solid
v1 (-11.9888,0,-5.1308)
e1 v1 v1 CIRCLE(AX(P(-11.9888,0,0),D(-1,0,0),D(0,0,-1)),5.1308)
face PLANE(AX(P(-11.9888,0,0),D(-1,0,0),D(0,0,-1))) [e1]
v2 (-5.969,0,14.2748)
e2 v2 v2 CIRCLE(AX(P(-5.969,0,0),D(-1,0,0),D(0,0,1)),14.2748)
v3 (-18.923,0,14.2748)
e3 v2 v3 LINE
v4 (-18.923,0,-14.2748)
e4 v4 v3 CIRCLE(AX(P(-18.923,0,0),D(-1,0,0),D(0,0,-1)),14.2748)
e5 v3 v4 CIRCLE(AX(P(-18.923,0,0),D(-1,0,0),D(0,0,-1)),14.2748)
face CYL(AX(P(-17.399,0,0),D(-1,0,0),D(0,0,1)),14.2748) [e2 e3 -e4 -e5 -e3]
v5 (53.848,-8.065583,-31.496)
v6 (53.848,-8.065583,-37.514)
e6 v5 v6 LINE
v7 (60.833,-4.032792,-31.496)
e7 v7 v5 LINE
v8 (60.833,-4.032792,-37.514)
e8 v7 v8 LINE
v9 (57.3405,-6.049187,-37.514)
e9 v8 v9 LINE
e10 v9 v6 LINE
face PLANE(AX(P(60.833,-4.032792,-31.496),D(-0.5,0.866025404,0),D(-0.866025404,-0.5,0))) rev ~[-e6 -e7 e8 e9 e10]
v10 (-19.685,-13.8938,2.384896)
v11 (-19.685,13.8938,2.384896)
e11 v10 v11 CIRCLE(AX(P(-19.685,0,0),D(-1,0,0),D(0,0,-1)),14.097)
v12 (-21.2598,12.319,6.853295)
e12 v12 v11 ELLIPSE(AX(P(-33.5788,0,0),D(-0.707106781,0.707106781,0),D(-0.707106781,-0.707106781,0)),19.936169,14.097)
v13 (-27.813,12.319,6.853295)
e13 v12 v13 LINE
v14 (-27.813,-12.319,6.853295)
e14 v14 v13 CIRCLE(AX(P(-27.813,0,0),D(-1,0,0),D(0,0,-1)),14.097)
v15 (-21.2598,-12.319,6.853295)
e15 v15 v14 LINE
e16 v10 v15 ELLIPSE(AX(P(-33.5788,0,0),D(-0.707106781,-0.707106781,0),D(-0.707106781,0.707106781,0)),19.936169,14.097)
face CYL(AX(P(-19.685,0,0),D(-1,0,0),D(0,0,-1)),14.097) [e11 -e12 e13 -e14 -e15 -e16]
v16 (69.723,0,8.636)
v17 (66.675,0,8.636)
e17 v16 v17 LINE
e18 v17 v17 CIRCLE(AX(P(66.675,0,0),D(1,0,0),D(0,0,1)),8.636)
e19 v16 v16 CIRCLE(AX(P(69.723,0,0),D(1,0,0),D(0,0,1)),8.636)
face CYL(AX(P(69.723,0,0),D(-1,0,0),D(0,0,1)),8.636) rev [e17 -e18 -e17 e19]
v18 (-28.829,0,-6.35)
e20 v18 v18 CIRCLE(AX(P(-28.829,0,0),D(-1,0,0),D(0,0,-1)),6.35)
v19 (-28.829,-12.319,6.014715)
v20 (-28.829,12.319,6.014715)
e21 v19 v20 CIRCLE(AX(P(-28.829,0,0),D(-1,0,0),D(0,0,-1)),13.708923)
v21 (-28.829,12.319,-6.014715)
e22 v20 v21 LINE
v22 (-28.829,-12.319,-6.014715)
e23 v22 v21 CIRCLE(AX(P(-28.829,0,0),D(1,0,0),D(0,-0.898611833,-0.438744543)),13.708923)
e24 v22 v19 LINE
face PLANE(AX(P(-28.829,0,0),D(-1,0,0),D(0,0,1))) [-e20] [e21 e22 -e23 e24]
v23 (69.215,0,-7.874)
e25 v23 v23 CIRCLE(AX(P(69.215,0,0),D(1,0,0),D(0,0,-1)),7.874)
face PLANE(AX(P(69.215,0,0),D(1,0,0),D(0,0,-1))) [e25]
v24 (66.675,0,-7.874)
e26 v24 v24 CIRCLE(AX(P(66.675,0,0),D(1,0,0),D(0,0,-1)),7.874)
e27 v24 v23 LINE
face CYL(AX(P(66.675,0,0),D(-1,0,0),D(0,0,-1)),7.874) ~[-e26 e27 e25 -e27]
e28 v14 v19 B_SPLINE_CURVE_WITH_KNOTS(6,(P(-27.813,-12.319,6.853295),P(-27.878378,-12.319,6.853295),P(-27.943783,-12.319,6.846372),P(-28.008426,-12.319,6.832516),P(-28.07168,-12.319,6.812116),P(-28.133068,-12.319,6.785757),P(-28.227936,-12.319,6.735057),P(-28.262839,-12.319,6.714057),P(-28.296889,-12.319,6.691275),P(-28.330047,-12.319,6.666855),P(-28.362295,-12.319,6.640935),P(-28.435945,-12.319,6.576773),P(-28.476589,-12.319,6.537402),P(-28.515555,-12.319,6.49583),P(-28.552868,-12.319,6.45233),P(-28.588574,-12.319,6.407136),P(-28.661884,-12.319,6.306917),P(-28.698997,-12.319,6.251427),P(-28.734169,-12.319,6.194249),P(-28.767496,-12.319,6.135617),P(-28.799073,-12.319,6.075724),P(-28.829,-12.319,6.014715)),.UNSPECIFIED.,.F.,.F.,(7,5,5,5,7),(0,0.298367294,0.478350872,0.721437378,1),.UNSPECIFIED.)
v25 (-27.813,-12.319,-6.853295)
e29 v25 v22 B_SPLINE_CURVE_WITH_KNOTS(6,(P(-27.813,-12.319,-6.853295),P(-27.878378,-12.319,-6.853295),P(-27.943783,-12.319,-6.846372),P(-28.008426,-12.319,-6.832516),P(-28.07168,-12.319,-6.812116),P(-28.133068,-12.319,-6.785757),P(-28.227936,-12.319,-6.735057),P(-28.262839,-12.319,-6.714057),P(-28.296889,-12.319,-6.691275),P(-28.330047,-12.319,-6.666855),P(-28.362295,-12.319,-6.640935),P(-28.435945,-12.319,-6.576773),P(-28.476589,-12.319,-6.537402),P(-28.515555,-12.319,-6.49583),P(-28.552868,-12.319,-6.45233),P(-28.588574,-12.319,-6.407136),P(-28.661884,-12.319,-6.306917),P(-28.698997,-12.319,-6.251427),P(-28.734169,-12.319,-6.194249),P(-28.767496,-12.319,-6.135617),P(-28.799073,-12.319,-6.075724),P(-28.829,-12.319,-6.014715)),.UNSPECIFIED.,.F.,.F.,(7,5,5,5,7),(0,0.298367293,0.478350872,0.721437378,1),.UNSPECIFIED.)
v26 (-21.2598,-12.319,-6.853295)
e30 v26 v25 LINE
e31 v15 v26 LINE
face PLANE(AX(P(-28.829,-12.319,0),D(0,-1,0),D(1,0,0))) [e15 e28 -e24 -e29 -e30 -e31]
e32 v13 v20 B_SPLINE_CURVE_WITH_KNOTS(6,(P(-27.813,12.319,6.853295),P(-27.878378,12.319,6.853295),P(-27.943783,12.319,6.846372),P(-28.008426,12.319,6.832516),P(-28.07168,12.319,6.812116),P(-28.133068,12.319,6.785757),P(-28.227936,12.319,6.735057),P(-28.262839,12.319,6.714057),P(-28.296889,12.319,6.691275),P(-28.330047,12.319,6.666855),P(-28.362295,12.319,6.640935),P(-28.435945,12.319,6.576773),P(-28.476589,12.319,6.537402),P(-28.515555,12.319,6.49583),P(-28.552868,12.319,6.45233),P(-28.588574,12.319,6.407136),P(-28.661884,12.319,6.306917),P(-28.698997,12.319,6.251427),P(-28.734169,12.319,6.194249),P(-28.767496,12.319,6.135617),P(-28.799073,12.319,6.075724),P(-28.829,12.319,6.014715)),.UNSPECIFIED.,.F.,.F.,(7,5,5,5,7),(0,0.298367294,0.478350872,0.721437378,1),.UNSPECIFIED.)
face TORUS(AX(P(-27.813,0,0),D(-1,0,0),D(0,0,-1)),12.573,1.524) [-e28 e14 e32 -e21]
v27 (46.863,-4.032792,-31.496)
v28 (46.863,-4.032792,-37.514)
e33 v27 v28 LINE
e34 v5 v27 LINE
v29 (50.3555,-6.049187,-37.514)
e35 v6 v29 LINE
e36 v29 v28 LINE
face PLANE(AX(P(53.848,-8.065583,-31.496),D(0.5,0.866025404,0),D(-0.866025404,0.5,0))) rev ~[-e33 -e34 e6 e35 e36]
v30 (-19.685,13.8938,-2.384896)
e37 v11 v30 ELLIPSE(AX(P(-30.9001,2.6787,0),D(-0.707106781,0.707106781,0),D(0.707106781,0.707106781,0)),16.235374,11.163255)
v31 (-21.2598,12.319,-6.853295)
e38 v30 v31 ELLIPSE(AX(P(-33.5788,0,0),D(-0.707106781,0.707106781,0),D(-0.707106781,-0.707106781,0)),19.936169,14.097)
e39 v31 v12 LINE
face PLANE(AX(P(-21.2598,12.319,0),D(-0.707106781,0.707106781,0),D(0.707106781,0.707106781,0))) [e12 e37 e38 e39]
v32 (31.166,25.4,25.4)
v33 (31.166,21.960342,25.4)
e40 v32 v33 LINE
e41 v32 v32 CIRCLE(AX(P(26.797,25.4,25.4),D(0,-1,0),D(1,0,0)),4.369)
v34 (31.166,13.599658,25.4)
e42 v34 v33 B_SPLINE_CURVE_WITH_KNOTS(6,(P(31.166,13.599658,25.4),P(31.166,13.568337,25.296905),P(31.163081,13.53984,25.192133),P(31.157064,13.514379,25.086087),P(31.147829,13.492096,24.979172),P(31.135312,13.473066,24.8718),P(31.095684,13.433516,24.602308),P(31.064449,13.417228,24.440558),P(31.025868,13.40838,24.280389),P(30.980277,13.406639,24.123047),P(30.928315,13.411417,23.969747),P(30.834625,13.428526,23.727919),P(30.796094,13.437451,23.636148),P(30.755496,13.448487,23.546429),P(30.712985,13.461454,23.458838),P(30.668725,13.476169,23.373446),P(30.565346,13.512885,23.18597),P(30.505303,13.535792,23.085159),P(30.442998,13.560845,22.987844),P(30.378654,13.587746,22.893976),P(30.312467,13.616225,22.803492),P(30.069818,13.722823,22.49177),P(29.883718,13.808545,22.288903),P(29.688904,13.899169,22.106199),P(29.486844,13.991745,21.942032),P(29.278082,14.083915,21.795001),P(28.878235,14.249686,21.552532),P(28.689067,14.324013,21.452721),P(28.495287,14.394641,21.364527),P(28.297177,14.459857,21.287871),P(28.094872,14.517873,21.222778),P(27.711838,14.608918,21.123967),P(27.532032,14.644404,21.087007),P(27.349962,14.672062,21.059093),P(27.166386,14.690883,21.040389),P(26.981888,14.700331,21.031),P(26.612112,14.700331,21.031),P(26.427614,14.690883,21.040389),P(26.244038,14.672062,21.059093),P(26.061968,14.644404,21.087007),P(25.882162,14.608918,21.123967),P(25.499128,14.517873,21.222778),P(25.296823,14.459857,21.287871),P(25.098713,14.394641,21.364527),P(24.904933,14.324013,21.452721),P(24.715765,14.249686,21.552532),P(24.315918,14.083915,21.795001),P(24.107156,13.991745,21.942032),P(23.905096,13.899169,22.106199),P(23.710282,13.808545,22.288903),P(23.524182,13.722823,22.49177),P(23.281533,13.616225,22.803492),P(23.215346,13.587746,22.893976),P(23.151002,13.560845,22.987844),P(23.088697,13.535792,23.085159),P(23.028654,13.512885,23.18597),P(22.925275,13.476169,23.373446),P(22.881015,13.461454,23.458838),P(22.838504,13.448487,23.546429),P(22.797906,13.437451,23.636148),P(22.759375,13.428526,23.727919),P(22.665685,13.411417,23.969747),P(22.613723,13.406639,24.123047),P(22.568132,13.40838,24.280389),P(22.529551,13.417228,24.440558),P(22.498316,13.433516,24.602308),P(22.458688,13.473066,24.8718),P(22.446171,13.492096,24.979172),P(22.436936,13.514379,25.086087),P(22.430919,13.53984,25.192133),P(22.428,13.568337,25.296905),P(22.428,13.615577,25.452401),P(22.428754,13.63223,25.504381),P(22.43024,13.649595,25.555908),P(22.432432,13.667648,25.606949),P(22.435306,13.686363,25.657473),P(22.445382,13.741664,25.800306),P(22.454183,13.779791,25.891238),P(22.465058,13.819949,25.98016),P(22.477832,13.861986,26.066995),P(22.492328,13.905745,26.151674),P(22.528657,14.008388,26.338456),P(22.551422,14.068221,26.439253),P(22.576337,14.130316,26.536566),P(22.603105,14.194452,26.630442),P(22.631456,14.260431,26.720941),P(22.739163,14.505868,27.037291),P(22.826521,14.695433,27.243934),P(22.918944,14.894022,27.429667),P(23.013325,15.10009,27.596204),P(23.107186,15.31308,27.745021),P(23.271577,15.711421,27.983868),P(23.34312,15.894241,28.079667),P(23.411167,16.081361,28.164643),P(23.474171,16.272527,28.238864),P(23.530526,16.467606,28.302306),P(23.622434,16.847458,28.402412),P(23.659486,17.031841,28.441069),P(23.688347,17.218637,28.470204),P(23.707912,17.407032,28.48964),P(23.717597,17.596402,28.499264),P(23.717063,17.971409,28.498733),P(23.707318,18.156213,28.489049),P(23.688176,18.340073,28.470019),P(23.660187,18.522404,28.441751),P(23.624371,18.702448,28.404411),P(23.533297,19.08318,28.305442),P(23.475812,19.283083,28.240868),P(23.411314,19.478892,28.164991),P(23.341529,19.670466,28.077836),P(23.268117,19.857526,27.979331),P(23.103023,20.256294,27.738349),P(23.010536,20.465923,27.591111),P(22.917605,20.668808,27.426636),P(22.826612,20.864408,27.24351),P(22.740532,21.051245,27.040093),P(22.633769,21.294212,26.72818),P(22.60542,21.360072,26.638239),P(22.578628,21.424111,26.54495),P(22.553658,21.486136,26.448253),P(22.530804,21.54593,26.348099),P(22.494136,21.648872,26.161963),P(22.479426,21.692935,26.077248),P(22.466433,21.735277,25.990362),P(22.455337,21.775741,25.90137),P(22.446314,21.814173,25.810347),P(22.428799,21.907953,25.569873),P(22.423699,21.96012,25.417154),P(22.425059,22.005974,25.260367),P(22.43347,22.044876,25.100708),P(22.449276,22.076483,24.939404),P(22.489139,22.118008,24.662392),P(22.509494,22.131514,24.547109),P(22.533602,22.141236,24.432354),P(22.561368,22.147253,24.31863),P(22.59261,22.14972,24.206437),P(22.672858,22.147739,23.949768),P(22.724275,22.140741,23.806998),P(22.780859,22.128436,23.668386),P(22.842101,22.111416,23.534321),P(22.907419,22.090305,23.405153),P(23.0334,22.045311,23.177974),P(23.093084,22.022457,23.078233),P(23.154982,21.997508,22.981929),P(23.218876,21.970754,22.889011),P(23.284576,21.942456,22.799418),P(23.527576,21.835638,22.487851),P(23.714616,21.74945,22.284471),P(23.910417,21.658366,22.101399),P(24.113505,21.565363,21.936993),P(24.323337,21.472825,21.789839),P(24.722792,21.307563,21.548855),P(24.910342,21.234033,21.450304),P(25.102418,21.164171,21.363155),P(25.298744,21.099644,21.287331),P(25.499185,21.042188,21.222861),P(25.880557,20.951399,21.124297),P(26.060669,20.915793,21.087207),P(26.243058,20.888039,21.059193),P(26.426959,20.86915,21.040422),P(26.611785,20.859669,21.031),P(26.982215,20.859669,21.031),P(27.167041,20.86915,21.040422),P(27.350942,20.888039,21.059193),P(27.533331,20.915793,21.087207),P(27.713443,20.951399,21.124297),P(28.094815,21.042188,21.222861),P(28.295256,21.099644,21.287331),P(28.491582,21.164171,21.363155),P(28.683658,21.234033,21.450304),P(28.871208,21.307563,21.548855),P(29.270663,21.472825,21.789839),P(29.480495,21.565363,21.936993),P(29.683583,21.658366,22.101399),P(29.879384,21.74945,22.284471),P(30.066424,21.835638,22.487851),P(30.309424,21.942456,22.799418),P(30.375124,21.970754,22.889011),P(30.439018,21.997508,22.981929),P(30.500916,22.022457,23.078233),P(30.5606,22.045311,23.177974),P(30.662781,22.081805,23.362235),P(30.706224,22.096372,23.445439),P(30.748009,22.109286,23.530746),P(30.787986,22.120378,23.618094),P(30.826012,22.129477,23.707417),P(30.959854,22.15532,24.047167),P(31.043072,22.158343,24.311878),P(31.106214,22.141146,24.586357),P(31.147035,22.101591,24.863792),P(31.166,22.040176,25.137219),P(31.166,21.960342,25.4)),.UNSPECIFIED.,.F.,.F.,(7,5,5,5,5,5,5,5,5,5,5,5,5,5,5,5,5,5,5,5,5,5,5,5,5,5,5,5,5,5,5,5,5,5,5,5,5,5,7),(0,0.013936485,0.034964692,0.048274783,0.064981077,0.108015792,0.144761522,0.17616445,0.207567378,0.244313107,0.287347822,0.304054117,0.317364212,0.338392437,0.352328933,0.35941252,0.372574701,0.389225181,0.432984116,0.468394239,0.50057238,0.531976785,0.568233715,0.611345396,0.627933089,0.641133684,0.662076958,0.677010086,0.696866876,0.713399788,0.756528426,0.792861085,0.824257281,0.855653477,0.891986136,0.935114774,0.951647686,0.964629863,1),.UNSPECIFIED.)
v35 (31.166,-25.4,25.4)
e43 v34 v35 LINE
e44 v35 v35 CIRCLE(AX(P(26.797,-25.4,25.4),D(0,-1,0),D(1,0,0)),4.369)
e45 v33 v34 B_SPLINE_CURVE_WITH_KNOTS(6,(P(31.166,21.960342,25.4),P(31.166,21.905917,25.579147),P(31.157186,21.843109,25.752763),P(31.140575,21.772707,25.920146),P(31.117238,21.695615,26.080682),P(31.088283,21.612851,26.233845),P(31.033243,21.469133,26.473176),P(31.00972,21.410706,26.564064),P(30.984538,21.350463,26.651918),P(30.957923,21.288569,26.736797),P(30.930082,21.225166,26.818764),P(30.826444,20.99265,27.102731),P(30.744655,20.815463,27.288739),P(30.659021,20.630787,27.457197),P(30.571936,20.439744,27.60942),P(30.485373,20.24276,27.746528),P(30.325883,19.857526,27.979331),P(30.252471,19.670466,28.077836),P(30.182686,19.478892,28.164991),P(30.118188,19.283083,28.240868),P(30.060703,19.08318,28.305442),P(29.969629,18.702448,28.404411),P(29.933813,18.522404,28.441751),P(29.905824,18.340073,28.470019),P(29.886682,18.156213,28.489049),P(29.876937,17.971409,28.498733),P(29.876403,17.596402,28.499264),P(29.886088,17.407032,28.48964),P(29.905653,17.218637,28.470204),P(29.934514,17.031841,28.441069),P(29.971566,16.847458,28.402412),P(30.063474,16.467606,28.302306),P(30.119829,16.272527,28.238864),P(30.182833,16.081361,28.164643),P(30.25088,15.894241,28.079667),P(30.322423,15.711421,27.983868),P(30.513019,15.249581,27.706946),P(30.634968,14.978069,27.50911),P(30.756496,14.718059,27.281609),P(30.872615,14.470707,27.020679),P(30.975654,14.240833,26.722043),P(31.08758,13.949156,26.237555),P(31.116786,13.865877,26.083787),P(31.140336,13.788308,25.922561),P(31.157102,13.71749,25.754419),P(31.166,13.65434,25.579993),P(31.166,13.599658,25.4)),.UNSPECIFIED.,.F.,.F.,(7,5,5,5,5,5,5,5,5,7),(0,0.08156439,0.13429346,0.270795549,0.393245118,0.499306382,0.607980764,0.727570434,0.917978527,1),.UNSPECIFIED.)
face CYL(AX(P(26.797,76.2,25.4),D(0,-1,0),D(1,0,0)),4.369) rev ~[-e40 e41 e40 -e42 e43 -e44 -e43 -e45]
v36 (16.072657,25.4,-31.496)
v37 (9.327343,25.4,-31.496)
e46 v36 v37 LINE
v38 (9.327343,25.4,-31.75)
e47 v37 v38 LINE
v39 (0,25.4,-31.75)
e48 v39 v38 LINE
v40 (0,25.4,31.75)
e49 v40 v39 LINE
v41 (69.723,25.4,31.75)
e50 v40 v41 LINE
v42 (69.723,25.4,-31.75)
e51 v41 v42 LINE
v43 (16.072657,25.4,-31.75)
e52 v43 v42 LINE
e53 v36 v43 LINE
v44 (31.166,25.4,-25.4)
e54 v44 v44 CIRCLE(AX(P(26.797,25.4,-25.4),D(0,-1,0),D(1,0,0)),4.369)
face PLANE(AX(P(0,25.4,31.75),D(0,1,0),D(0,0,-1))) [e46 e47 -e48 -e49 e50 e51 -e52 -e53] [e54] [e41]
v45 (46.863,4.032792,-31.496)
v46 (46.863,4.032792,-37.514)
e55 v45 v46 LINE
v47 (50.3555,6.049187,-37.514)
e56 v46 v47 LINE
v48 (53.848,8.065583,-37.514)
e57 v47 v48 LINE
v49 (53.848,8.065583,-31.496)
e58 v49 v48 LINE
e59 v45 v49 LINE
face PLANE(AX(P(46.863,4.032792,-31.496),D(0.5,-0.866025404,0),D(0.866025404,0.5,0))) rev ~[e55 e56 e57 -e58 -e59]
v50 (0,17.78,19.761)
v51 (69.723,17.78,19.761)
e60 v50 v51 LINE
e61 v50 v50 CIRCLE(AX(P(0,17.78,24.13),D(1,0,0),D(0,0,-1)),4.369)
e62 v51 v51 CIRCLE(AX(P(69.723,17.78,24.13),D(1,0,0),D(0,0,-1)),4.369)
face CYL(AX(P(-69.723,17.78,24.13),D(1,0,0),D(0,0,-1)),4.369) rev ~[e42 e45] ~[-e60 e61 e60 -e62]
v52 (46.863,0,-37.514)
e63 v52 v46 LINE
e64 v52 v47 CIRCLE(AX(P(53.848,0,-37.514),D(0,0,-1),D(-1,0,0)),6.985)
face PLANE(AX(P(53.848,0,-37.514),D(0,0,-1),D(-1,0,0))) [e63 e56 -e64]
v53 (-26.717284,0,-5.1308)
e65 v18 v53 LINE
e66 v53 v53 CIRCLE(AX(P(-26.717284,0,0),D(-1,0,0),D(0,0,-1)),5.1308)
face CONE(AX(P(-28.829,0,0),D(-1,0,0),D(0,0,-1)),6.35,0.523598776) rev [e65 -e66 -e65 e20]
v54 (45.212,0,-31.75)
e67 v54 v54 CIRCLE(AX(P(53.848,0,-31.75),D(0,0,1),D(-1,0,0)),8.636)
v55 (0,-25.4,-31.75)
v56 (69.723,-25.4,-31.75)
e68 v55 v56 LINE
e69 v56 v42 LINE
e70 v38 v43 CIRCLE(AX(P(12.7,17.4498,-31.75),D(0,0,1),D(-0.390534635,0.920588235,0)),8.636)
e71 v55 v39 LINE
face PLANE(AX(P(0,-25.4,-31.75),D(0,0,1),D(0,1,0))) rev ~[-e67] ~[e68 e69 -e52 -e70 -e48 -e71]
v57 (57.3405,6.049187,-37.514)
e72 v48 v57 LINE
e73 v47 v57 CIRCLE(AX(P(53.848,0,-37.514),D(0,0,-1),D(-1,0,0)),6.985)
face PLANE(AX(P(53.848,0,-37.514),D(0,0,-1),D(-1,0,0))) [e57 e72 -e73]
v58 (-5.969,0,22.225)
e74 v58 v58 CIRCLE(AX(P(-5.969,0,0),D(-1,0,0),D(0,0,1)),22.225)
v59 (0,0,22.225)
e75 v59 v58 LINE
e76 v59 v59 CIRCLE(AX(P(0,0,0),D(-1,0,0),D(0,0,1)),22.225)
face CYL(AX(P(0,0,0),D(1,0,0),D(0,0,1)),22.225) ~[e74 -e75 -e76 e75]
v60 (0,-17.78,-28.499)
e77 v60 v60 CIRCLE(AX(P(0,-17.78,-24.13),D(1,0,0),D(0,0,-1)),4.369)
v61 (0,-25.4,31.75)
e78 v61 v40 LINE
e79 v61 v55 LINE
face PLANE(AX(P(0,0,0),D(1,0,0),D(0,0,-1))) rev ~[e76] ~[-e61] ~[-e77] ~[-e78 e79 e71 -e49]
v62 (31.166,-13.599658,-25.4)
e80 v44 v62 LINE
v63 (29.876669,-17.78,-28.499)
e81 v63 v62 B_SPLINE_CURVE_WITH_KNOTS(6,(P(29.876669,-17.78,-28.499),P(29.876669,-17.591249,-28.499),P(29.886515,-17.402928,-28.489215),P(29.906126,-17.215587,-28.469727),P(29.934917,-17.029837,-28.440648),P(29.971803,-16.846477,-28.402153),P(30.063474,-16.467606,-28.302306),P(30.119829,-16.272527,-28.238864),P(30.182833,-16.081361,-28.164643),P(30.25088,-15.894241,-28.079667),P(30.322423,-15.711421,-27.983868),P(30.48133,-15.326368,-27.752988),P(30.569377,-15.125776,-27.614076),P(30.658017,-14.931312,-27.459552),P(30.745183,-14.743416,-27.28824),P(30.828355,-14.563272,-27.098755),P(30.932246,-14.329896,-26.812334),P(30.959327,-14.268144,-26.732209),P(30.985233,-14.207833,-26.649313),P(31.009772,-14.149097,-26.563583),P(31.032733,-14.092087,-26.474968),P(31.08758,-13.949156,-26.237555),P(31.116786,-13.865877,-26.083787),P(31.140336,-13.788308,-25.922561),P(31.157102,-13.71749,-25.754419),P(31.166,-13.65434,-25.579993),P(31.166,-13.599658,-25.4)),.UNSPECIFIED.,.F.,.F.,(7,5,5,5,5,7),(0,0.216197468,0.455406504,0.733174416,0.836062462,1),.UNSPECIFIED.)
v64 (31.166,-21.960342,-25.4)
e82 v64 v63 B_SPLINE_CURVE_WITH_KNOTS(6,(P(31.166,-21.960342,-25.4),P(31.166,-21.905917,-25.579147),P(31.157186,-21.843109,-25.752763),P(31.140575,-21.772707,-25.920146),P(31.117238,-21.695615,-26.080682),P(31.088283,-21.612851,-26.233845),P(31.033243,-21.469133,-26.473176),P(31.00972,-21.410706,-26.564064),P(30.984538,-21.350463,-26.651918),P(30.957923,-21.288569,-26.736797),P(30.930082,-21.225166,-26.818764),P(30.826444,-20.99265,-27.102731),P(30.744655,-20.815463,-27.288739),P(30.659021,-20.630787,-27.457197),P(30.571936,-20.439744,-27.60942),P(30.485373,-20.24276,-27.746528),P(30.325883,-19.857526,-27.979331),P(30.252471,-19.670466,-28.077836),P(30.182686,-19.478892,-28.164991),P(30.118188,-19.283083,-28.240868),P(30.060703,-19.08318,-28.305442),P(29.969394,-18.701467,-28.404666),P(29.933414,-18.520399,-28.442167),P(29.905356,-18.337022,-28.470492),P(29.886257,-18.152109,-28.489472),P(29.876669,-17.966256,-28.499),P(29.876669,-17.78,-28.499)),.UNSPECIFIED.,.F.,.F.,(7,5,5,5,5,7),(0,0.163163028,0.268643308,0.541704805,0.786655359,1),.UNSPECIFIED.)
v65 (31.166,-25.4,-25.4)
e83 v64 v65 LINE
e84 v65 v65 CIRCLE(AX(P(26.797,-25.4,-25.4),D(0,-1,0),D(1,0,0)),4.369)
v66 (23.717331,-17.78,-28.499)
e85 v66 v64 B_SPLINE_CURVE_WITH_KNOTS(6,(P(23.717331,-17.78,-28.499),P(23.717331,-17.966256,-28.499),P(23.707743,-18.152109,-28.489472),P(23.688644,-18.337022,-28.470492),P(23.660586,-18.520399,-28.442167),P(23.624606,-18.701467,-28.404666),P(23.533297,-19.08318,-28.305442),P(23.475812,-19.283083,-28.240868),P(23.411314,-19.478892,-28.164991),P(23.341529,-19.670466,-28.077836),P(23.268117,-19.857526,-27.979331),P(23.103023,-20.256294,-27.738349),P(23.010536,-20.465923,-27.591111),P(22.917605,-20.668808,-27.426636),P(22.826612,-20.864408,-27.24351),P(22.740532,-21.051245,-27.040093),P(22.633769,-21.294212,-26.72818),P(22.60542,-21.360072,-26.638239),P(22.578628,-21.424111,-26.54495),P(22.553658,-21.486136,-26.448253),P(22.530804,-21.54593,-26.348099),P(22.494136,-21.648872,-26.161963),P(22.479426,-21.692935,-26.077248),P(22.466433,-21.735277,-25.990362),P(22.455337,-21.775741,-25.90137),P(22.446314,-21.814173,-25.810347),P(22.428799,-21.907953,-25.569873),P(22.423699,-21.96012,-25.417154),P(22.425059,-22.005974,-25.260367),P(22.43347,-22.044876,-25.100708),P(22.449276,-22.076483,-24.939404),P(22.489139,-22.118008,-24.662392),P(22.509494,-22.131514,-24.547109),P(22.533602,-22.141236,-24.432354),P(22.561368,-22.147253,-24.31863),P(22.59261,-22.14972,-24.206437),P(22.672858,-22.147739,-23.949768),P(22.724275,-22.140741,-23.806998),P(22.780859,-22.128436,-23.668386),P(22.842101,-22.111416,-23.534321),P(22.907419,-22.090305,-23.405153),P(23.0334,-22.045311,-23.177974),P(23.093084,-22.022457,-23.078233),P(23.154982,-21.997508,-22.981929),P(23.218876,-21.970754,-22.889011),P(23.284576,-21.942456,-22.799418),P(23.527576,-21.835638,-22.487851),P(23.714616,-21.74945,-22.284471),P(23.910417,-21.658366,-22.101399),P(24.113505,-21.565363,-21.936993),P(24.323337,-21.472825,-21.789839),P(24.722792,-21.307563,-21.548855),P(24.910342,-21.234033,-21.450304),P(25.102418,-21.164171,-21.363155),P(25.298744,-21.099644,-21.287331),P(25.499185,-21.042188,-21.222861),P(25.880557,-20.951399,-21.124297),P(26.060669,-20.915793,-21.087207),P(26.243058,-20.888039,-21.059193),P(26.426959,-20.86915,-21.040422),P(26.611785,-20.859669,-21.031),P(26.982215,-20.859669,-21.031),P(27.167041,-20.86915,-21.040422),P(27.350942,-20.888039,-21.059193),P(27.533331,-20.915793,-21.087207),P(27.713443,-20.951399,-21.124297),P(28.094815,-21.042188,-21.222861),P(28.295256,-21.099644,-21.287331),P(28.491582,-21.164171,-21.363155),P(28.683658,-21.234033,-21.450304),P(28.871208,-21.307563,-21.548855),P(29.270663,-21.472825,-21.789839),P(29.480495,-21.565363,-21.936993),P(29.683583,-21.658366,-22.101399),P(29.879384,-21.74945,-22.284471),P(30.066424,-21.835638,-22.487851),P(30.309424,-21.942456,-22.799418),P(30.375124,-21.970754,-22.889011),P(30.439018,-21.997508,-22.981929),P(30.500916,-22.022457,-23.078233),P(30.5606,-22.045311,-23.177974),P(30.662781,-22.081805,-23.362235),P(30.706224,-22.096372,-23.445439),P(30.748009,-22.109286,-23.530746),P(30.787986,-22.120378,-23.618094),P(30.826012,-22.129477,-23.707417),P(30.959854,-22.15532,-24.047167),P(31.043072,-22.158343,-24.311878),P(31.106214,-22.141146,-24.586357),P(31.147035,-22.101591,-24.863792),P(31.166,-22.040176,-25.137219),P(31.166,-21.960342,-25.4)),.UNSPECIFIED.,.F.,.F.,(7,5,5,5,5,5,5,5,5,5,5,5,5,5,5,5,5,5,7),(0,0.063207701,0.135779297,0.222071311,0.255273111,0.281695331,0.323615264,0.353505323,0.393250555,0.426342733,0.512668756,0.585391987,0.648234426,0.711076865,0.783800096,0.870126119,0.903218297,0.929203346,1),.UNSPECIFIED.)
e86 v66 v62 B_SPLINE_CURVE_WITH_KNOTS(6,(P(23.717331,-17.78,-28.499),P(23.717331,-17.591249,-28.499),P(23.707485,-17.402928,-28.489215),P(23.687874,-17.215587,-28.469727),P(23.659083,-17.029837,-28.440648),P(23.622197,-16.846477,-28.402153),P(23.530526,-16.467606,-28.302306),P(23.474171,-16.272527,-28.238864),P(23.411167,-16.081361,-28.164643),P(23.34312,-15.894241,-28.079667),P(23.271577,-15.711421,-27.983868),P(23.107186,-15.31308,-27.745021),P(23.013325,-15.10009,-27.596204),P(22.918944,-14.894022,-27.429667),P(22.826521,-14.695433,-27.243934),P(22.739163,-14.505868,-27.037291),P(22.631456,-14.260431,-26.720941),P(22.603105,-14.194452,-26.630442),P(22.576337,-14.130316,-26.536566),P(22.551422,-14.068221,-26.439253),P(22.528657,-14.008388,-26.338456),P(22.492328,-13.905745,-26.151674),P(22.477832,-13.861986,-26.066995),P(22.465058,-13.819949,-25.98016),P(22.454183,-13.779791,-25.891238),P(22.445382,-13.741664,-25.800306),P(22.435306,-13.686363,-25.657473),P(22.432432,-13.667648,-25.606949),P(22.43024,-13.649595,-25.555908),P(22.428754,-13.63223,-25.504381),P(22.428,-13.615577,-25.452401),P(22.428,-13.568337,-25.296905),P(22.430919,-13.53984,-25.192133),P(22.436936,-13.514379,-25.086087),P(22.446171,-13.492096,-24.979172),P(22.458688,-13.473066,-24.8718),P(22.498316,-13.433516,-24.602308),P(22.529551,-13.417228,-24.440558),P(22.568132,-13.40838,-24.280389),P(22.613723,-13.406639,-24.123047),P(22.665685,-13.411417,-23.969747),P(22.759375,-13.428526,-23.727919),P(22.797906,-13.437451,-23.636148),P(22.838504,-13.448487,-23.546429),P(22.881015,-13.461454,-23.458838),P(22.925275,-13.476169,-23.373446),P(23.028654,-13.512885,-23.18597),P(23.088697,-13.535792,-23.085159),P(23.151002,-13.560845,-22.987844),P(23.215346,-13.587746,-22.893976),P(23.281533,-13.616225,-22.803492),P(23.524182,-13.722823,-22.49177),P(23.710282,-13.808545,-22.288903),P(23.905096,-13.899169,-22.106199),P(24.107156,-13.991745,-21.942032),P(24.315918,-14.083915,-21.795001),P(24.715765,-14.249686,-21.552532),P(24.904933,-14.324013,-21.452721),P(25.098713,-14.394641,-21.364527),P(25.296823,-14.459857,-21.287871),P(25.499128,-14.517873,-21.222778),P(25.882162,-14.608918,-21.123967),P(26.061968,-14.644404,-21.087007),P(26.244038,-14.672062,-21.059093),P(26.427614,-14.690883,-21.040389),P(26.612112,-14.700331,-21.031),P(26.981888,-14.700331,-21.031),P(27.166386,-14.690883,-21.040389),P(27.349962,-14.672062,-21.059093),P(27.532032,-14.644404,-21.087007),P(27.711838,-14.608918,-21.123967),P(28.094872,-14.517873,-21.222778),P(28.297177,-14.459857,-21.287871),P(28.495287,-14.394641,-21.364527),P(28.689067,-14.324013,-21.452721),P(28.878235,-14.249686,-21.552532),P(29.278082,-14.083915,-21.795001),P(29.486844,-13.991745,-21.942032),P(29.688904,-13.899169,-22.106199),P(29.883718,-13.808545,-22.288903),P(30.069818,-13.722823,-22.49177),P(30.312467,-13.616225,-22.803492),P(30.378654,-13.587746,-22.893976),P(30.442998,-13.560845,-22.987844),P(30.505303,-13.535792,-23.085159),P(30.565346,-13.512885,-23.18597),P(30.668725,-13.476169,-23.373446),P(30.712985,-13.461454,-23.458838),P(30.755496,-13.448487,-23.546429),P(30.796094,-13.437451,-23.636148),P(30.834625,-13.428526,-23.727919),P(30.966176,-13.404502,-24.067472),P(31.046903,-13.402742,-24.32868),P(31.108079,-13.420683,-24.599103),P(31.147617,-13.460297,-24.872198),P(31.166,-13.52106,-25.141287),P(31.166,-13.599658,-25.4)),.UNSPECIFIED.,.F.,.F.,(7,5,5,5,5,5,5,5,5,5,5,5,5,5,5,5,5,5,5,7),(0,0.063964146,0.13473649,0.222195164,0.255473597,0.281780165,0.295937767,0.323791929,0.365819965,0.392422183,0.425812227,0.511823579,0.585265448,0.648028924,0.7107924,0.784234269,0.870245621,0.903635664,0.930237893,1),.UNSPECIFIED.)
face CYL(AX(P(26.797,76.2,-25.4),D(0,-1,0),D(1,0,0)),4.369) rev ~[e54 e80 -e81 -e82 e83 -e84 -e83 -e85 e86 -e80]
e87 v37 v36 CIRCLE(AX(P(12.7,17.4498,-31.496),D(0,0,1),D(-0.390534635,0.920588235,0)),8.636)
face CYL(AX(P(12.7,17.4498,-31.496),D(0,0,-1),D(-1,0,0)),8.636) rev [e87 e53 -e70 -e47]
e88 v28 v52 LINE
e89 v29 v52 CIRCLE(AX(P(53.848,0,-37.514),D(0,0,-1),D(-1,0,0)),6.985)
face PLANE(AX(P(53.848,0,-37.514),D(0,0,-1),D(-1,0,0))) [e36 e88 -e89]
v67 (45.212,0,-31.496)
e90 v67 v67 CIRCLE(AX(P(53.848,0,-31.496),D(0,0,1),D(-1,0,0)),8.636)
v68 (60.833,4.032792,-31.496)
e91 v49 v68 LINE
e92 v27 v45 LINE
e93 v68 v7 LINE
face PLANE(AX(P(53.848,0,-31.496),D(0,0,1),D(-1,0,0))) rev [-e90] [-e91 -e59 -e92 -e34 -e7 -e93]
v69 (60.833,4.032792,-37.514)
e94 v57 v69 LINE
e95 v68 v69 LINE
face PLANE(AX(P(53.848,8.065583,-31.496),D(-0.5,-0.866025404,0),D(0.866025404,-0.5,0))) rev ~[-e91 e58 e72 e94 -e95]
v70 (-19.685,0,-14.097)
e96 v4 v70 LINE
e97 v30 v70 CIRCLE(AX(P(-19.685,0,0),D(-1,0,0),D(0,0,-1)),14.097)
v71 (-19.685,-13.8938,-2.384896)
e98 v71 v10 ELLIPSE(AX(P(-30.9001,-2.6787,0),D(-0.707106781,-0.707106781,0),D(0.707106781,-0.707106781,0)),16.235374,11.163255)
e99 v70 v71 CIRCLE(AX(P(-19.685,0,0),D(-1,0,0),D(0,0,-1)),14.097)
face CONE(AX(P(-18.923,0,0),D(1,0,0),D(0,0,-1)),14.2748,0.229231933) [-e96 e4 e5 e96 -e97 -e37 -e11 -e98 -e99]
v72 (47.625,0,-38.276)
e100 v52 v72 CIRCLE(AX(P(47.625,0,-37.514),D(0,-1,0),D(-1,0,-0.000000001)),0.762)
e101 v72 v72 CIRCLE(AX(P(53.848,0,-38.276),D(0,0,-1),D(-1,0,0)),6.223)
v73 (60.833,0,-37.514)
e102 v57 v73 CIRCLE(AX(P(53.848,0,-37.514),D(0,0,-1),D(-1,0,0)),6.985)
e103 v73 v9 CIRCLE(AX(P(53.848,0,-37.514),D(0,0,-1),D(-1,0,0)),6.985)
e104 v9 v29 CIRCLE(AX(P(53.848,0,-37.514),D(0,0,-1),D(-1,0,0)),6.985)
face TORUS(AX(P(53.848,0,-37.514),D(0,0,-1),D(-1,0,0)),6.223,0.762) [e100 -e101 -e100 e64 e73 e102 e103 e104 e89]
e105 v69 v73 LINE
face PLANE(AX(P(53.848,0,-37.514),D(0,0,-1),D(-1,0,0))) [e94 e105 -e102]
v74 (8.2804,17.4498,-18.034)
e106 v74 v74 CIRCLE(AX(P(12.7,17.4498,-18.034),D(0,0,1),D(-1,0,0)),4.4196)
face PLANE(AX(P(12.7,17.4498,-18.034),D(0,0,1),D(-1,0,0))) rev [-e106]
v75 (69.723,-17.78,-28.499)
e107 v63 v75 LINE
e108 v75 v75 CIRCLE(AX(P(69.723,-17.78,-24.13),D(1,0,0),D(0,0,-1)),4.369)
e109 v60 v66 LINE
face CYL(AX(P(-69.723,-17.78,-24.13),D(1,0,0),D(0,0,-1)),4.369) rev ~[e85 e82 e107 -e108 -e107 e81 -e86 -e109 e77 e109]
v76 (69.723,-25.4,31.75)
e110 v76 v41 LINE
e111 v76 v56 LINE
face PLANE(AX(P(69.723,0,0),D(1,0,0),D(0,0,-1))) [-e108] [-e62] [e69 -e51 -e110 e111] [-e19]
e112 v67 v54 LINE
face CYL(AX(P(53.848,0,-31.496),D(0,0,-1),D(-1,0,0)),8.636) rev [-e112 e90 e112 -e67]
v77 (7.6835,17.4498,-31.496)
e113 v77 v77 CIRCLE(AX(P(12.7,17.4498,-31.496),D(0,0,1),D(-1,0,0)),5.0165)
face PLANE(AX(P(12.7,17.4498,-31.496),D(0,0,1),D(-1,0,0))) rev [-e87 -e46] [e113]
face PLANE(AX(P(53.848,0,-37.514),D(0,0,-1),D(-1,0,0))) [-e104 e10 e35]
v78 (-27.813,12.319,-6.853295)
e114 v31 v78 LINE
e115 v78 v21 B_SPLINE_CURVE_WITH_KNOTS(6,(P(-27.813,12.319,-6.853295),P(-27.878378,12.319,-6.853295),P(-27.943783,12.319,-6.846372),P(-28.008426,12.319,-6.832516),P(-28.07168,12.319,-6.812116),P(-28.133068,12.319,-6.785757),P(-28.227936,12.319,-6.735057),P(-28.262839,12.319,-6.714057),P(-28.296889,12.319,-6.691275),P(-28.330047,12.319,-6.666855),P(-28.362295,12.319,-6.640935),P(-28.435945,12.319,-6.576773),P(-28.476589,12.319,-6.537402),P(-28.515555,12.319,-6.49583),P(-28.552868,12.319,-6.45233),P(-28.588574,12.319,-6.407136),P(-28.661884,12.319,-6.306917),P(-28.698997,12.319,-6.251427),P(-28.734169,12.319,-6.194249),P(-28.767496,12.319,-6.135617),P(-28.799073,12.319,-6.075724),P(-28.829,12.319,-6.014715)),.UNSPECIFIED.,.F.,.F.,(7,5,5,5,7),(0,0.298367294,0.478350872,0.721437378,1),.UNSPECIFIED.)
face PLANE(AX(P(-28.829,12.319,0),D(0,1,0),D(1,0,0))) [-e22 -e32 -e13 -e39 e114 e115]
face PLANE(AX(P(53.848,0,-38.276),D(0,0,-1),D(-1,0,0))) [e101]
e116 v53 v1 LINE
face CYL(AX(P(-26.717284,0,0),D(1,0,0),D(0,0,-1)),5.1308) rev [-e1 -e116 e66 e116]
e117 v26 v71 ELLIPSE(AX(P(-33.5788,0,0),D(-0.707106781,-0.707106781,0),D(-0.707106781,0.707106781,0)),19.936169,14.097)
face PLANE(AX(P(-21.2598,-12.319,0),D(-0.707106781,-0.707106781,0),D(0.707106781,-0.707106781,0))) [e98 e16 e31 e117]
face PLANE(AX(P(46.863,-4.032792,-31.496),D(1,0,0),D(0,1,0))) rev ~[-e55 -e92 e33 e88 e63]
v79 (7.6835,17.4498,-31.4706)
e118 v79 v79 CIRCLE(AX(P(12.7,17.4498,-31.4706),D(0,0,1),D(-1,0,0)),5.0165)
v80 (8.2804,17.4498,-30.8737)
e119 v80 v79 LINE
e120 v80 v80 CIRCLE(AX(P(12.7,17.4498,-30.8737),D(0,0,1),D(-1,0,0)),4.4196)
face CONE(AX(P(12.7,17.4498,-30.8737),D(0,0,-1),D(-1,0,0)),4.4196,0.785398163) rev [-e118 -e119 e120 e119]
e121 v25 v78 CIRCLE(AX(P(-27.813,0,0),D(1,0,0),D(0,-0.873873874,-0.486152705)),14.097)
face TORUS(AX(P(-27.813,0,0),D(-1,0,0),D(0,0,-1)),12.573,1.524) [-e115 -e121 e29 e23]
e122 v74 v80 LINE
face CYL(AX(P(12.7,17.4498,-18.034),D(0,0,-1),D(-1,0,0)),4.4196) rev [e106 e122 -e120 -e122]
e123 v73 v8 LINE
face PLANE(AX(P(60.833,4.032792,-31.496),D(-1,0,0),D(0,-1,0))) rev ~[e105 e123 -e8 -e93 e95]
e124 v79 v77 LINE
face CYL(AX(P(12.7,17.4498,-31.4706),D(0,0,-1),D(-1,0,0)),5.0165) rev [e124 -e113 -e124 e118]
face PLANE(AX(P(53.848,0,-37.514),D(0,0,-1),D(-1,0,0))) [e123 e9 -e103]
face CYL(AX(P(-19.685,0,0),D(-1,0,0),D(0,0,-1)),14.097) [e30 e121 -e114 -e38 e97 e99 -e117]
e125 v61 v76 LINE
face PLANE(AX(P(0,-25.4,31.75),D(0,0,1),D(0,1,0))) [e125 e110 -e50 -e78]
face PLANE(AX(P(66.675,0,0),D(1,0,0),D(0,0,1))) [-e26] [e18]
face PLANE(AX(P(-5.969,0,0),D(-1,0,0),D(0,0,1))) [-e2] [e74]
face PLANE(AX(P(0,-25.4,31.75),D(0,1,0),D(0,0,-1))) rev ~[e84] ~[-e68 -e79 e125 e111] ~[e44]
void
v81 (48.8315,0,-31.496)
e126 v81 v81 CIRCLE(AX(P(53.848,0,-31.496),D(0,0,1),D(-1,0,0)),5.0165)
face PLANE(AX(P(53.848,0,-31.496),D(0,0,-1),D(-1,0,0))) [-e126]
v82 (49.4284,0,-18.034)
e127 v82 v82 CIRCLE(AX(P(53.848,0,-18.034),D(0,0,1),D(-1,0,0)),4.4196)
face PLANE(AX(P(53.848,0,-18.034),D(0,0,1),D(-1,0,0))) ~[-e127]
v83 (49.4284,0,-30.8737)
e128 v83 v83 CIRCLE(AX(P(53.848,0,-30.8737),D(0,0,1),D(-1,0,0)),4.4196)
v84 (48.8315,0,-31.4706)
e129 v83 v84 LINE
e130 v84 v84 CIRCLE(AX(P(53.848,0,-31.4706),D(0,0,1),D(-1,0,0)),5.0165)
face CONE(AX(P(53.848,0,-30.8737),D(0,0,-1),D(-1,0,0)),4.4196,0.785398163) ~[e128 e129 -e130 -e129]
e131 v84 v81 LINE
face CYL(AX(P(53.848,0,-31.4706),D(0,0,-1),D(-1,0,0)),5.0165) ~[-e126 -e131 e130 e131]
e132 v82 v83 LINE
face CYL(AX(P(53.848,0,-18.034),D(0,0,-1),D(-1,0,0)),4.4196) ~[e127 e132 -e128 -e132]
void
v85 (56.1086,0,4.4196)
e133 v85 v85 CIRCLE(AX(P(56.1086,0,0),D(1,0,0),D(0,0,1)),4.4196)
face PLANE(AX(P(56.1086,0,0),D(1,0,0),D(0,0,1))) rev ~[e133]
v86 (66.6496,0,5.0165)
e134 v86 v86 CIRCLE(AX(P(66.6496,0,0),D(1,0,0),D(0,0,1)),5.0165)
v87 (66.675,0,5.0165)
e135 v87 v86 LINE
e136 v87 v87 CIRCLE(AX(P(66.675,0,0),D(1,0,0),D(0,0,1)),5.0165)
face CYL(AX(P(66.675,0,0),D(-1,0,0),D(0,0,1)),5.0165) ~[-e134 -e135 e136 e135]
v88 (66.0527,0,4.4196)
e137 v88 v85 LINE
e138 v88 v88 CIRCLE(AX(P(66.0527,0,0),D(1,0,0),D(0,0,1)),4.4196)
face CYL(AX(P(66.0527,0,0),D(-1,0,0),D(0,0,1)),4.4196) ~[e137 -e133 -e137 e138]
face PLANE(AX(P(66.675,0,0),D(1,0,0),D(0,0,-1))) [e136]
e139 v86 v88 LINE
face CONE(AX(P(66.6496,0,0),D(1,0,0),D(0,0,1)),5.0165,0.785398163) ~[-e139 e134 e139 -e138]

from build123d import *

# Parameters (mm, degrees)
SKETCH1_W            = 63.5
SKETCH1_H            = 50.8
EXTRUDE1_DEPTH       = 69.723
LPATTERN1_COUNT      = 2
LPATTERN1_PITCH      = 41.148
LPATTERN1_COUNT_DIR2 = 2
LPATTERN1_PITCH_DIR2 = 17.4498
SKETCH5_R            = 22.225
EXTRUDE2_DEPTH       = 5.969
SKETCH6_W            = 14.2748
SKETCH6_H            = 22.86
CUT_EXTRUDE4_DEPTH   = 30.48
HOLE1_D              = 8.738
HOLE1_DEPTH          = 69.723
HOLE2_D              = 8.738
HOLE2_DEPTH          = 50.8
EXTRUDE3_DEPTH       = 6.78
SKETCH21_R           = 7.874
EXTRUDE4_DEPTH       = 2.54


with BuildPart() as part:
    # Sketch1 → Extrude1 (new body)
    with BuildSketch(Plane(origin=(0, 0, 0), x_dir=(0, 0, -1), z_dir=(1, 0, 0))):
        Rectangle(SKETCH1_W, SKETCH1_H)
    extrude(amount=EXTRUDE1_DEPTH)

    # S2D0002 → Cut-Revolve1 (revolve, cut)
    with BuildSketch(Plane(origin=(0, 17.4498, 0), x_dir=(-1, 0, 0), z_dir=(0, 1, 0)), mode=Mode.PRIVATE) as cut_revolve1_sk:
        Polygon((-17.7165, -31.496), (-21.336, -31.496), (-21.336, -31.75), (-12.7, -31.75), (-12.7, -18.034), (-17.1196, -18.034), (-17.1196, -30.8737), (-17.7165, -31.4706), align=None)
    cut_revolve1 = revolve(cut_revolve1_sk.sketch.rotate(Axis((12.7, 17.4498, -19.13842003), (0, 0, 1)), 180), axis=Axis((12.7, 17.4498, -19.13842003), (0, 0, 1)), mode=Mode.SUBTRACT)  # turned: the seam where the file's is

    # LPattern1: Cut-Revolve1 2 × 2, 2 skipped
    with Locations(*[(i * LPATTERN1_PITCH, -j * LPATTERN1_PITCH_DIR2, 0) for i in range(LPATTERN1_COUNT) for j in range(LPATTERN1_COUNT_DIR2) if (i, j) not in ((0, 0), (0, 1), (1, 0))]):
        add(cut_revolve1, mode=Mode.SUBTRACT)

    # Sketch5 → Extrude2 (add)
    with BuildSketch(Plane.ZY):
        Circle(SKETCH5_R)
    extrude(amount=EXTRUDE2_DEPTH)

    # Sketch6 → Revolve1 (revolve)
    with BuildSketch(Plane(origin=(0, 0, 0), x_dir=(0, 0, 1), z_dir=(0, -1, 0)), mode=Mode.PRIVATE) as revolve1_sk:
        with Locations((-7.1374, 17.399)):
            Rectangle(SKETCH6_W, SKETCH6_H)
    revolve(revolve1_sk.sketch.rotate(Axis((5.754582971, 0, 0), (-1, 0, 0)), 180), axis=Axis((5.754582971, 0, 0), (-1, 0, 0)))  # turned: the seam where the file's is

    # S2D0001 → Cut-Revolve4 (revolve, cut)
    with BuildSketch(Plane(origin=(-18.511260017, 3.2639, 0), x_dir=(0, 1, 0), z_dir=(0, 0, 1)), mode=Mode.PRIVATE) as cut_revolve4_sk:
        Polygon((1.8669, 8.206023638), (1.8669, -6.522460017), (-3.2639, -6.522460017), (-3.2639, 10.317739983), (3.0861, 10.317739983), align=None)
    revolve(cut_revolve4_sk.sketch.rotate(Axis((0, 0, 0), (-1, 0, 0)), 90), axis=Axis((0, 0, 0), (-1, 0, 0)), mode=Mode.SUBTRACT)  # turned: the seam where the file's is

    # Sketch8 → Cut-Revolve5 (revolve, cut)
    with BuildSketch(Plane(origin=(0, 0, 0), x_dir=(0, 0, -1), z_dir=(0, 1, 0)), mode=Mode.PRIVATE) as cut_revolve5_sk:
        with BuildLine():
            Line((-14.2748, 18.923), (-14.097, 19.685))
            Line((-14.097, 19.685), (-14.097, 27.813))
            ThreePointArc((-14.097, 27.813), (-13.996678675, 28.356796865), (-13.708922533, 28.829))
            Line((-13.708922533, 28.829), (-14.2748, 28.829))
            Line((-14.2748, 28.829), (-14.2748, 18.923))
        make_face()
    revolve(cut_revolve5_sk.sketch.rotate(Axis((-12.65936, 0, 0), (-1, 0, 0)), 180), axis=Axis((-12.65936, 0, 0), (-1, 0, 0)), mode=Mode.SUBTRACT)  # turned: the seam where the file's is

    # Sketch12 → Cut-Extrude4 (cut, symmetric)
    with BuildSketch(Plane(origin=(0, 0, 0), x_dir=(0, -1, 0), z_dir=(0, 0, -1))):
        Polygon((12.319, 28.829), (12.319, 21.2598), (14.2748, 19.304), (14.2748, 28.829), align=None)
        Polygon((-12.319, 28.829), (-12.319, 21.2598), (-14.2748, 19.304), (-14.2748, 28.829), align=None)
    extrude(amount=CUT_EXTRUDE4_DEPTH, both=True, mode=Mode.SUBTRACT)

    # Hole1
    with Locations(Plane.ZY):
        with Locations((-24.13, -17.78), (24.13, 17.78)):
            Hole(HOLE1_D / 2, depth=HOLE1_DEPTH)

    # Hole2
    with Locations(Plane(origin=(0, 25.4, 0), x_dir=(-1, 0, 0), z_dir=(0, 1, 0))):
        with Locations((-26.797, -25.4), (-26.797, 25.4)):
            Hole(HOLE2_D / 2, depth=HOLE2_DEPTH)

    # Sketch18 → Extrude3 (add)
    with BuildSketch(Plane(origin=(0, 0, -31.496), x_dir=(-1, 0, 0), z_dir=(0, 0, -1))):
        Polygon((-46.863, 4.03279163), (-53.848, 8.065583261), (-60.833, 4.03279163), (-60.833, -4.03279163), (-53.848, -8.065583261), (-46.863, -4.03279163), align=None)
    extrude(amount=EXTRUDE3_DEPTH)

    # Sketch19 → Cut-Revolve6 (revolve, cut)
    with BuildSketch(Plane(origin=(0, 0, 0), x_dir=(-1, 0, 0), z_dir=(0, 1, 0)), mode=Mode.PRIVATE) as cut_revolve6_sk:
        with BuildLine():
            Line((-60.071, -38.276), (-60.071, -40.689))
            Line((-60.071, -40.689), (-63.246, -40.689))
            Line((-63.246, -40.689), (-63.246, -37.514))
            Line((-63.246, -37.514), (-60.833, -37.514))
            ThreePointArc((-60.833, -37.514), (-60.609815367, -38.052815367), (-60.071, -38.276))
        make_face()
    revolve(cut_revolve6_sk.sketch.rotate(Axis((53.848, 0, -18.51025594), (0, 0, -1)), 180), axis=Axis((53.848, 0, -18.51025594), (0, 0, -1)), mode=Mode.SUBTRACT)  # turned: the seam where the file's is

    # Sketch20 → Cut-Revolve7 (revolve, cut)
    with BuildSketch(Plane(origin=(0, 0, 0), x_dir=(1, 0, 0), z_dir=(0, 1, 0)), mode=Mode.PRIVATE) as cut_revolve7_sk:
        Polygon((69.723, 8.636), (66.675, 8.636), (66.675, 5.0165), (66.6496, 5.0165), (66.0527, 4.4196), (56.1086, 4.4196), (56.1086, 0), (69.723, 0), align=None)
    revolve(cut_revolve7_sk.sketch.rotate(Axis((0, 0, 0), (1, 0, 0)), 180), axis=Axis((0, 0, 0), (1, 0, 0)), mode=Mode.SUBTRACT)  # turned: the seam where the file's is

    # Sketch21 → Extrude4 (add)
    with BuildSketch(Plane(origin=(66.675, 0, 0), x_dir=(0, 0, -1), z_dir=(1, 0, 0))):
        Circle(SKETCH21_R)
    extrude(amount=EXTRUDE4_DEPTH)


solid = part.part
